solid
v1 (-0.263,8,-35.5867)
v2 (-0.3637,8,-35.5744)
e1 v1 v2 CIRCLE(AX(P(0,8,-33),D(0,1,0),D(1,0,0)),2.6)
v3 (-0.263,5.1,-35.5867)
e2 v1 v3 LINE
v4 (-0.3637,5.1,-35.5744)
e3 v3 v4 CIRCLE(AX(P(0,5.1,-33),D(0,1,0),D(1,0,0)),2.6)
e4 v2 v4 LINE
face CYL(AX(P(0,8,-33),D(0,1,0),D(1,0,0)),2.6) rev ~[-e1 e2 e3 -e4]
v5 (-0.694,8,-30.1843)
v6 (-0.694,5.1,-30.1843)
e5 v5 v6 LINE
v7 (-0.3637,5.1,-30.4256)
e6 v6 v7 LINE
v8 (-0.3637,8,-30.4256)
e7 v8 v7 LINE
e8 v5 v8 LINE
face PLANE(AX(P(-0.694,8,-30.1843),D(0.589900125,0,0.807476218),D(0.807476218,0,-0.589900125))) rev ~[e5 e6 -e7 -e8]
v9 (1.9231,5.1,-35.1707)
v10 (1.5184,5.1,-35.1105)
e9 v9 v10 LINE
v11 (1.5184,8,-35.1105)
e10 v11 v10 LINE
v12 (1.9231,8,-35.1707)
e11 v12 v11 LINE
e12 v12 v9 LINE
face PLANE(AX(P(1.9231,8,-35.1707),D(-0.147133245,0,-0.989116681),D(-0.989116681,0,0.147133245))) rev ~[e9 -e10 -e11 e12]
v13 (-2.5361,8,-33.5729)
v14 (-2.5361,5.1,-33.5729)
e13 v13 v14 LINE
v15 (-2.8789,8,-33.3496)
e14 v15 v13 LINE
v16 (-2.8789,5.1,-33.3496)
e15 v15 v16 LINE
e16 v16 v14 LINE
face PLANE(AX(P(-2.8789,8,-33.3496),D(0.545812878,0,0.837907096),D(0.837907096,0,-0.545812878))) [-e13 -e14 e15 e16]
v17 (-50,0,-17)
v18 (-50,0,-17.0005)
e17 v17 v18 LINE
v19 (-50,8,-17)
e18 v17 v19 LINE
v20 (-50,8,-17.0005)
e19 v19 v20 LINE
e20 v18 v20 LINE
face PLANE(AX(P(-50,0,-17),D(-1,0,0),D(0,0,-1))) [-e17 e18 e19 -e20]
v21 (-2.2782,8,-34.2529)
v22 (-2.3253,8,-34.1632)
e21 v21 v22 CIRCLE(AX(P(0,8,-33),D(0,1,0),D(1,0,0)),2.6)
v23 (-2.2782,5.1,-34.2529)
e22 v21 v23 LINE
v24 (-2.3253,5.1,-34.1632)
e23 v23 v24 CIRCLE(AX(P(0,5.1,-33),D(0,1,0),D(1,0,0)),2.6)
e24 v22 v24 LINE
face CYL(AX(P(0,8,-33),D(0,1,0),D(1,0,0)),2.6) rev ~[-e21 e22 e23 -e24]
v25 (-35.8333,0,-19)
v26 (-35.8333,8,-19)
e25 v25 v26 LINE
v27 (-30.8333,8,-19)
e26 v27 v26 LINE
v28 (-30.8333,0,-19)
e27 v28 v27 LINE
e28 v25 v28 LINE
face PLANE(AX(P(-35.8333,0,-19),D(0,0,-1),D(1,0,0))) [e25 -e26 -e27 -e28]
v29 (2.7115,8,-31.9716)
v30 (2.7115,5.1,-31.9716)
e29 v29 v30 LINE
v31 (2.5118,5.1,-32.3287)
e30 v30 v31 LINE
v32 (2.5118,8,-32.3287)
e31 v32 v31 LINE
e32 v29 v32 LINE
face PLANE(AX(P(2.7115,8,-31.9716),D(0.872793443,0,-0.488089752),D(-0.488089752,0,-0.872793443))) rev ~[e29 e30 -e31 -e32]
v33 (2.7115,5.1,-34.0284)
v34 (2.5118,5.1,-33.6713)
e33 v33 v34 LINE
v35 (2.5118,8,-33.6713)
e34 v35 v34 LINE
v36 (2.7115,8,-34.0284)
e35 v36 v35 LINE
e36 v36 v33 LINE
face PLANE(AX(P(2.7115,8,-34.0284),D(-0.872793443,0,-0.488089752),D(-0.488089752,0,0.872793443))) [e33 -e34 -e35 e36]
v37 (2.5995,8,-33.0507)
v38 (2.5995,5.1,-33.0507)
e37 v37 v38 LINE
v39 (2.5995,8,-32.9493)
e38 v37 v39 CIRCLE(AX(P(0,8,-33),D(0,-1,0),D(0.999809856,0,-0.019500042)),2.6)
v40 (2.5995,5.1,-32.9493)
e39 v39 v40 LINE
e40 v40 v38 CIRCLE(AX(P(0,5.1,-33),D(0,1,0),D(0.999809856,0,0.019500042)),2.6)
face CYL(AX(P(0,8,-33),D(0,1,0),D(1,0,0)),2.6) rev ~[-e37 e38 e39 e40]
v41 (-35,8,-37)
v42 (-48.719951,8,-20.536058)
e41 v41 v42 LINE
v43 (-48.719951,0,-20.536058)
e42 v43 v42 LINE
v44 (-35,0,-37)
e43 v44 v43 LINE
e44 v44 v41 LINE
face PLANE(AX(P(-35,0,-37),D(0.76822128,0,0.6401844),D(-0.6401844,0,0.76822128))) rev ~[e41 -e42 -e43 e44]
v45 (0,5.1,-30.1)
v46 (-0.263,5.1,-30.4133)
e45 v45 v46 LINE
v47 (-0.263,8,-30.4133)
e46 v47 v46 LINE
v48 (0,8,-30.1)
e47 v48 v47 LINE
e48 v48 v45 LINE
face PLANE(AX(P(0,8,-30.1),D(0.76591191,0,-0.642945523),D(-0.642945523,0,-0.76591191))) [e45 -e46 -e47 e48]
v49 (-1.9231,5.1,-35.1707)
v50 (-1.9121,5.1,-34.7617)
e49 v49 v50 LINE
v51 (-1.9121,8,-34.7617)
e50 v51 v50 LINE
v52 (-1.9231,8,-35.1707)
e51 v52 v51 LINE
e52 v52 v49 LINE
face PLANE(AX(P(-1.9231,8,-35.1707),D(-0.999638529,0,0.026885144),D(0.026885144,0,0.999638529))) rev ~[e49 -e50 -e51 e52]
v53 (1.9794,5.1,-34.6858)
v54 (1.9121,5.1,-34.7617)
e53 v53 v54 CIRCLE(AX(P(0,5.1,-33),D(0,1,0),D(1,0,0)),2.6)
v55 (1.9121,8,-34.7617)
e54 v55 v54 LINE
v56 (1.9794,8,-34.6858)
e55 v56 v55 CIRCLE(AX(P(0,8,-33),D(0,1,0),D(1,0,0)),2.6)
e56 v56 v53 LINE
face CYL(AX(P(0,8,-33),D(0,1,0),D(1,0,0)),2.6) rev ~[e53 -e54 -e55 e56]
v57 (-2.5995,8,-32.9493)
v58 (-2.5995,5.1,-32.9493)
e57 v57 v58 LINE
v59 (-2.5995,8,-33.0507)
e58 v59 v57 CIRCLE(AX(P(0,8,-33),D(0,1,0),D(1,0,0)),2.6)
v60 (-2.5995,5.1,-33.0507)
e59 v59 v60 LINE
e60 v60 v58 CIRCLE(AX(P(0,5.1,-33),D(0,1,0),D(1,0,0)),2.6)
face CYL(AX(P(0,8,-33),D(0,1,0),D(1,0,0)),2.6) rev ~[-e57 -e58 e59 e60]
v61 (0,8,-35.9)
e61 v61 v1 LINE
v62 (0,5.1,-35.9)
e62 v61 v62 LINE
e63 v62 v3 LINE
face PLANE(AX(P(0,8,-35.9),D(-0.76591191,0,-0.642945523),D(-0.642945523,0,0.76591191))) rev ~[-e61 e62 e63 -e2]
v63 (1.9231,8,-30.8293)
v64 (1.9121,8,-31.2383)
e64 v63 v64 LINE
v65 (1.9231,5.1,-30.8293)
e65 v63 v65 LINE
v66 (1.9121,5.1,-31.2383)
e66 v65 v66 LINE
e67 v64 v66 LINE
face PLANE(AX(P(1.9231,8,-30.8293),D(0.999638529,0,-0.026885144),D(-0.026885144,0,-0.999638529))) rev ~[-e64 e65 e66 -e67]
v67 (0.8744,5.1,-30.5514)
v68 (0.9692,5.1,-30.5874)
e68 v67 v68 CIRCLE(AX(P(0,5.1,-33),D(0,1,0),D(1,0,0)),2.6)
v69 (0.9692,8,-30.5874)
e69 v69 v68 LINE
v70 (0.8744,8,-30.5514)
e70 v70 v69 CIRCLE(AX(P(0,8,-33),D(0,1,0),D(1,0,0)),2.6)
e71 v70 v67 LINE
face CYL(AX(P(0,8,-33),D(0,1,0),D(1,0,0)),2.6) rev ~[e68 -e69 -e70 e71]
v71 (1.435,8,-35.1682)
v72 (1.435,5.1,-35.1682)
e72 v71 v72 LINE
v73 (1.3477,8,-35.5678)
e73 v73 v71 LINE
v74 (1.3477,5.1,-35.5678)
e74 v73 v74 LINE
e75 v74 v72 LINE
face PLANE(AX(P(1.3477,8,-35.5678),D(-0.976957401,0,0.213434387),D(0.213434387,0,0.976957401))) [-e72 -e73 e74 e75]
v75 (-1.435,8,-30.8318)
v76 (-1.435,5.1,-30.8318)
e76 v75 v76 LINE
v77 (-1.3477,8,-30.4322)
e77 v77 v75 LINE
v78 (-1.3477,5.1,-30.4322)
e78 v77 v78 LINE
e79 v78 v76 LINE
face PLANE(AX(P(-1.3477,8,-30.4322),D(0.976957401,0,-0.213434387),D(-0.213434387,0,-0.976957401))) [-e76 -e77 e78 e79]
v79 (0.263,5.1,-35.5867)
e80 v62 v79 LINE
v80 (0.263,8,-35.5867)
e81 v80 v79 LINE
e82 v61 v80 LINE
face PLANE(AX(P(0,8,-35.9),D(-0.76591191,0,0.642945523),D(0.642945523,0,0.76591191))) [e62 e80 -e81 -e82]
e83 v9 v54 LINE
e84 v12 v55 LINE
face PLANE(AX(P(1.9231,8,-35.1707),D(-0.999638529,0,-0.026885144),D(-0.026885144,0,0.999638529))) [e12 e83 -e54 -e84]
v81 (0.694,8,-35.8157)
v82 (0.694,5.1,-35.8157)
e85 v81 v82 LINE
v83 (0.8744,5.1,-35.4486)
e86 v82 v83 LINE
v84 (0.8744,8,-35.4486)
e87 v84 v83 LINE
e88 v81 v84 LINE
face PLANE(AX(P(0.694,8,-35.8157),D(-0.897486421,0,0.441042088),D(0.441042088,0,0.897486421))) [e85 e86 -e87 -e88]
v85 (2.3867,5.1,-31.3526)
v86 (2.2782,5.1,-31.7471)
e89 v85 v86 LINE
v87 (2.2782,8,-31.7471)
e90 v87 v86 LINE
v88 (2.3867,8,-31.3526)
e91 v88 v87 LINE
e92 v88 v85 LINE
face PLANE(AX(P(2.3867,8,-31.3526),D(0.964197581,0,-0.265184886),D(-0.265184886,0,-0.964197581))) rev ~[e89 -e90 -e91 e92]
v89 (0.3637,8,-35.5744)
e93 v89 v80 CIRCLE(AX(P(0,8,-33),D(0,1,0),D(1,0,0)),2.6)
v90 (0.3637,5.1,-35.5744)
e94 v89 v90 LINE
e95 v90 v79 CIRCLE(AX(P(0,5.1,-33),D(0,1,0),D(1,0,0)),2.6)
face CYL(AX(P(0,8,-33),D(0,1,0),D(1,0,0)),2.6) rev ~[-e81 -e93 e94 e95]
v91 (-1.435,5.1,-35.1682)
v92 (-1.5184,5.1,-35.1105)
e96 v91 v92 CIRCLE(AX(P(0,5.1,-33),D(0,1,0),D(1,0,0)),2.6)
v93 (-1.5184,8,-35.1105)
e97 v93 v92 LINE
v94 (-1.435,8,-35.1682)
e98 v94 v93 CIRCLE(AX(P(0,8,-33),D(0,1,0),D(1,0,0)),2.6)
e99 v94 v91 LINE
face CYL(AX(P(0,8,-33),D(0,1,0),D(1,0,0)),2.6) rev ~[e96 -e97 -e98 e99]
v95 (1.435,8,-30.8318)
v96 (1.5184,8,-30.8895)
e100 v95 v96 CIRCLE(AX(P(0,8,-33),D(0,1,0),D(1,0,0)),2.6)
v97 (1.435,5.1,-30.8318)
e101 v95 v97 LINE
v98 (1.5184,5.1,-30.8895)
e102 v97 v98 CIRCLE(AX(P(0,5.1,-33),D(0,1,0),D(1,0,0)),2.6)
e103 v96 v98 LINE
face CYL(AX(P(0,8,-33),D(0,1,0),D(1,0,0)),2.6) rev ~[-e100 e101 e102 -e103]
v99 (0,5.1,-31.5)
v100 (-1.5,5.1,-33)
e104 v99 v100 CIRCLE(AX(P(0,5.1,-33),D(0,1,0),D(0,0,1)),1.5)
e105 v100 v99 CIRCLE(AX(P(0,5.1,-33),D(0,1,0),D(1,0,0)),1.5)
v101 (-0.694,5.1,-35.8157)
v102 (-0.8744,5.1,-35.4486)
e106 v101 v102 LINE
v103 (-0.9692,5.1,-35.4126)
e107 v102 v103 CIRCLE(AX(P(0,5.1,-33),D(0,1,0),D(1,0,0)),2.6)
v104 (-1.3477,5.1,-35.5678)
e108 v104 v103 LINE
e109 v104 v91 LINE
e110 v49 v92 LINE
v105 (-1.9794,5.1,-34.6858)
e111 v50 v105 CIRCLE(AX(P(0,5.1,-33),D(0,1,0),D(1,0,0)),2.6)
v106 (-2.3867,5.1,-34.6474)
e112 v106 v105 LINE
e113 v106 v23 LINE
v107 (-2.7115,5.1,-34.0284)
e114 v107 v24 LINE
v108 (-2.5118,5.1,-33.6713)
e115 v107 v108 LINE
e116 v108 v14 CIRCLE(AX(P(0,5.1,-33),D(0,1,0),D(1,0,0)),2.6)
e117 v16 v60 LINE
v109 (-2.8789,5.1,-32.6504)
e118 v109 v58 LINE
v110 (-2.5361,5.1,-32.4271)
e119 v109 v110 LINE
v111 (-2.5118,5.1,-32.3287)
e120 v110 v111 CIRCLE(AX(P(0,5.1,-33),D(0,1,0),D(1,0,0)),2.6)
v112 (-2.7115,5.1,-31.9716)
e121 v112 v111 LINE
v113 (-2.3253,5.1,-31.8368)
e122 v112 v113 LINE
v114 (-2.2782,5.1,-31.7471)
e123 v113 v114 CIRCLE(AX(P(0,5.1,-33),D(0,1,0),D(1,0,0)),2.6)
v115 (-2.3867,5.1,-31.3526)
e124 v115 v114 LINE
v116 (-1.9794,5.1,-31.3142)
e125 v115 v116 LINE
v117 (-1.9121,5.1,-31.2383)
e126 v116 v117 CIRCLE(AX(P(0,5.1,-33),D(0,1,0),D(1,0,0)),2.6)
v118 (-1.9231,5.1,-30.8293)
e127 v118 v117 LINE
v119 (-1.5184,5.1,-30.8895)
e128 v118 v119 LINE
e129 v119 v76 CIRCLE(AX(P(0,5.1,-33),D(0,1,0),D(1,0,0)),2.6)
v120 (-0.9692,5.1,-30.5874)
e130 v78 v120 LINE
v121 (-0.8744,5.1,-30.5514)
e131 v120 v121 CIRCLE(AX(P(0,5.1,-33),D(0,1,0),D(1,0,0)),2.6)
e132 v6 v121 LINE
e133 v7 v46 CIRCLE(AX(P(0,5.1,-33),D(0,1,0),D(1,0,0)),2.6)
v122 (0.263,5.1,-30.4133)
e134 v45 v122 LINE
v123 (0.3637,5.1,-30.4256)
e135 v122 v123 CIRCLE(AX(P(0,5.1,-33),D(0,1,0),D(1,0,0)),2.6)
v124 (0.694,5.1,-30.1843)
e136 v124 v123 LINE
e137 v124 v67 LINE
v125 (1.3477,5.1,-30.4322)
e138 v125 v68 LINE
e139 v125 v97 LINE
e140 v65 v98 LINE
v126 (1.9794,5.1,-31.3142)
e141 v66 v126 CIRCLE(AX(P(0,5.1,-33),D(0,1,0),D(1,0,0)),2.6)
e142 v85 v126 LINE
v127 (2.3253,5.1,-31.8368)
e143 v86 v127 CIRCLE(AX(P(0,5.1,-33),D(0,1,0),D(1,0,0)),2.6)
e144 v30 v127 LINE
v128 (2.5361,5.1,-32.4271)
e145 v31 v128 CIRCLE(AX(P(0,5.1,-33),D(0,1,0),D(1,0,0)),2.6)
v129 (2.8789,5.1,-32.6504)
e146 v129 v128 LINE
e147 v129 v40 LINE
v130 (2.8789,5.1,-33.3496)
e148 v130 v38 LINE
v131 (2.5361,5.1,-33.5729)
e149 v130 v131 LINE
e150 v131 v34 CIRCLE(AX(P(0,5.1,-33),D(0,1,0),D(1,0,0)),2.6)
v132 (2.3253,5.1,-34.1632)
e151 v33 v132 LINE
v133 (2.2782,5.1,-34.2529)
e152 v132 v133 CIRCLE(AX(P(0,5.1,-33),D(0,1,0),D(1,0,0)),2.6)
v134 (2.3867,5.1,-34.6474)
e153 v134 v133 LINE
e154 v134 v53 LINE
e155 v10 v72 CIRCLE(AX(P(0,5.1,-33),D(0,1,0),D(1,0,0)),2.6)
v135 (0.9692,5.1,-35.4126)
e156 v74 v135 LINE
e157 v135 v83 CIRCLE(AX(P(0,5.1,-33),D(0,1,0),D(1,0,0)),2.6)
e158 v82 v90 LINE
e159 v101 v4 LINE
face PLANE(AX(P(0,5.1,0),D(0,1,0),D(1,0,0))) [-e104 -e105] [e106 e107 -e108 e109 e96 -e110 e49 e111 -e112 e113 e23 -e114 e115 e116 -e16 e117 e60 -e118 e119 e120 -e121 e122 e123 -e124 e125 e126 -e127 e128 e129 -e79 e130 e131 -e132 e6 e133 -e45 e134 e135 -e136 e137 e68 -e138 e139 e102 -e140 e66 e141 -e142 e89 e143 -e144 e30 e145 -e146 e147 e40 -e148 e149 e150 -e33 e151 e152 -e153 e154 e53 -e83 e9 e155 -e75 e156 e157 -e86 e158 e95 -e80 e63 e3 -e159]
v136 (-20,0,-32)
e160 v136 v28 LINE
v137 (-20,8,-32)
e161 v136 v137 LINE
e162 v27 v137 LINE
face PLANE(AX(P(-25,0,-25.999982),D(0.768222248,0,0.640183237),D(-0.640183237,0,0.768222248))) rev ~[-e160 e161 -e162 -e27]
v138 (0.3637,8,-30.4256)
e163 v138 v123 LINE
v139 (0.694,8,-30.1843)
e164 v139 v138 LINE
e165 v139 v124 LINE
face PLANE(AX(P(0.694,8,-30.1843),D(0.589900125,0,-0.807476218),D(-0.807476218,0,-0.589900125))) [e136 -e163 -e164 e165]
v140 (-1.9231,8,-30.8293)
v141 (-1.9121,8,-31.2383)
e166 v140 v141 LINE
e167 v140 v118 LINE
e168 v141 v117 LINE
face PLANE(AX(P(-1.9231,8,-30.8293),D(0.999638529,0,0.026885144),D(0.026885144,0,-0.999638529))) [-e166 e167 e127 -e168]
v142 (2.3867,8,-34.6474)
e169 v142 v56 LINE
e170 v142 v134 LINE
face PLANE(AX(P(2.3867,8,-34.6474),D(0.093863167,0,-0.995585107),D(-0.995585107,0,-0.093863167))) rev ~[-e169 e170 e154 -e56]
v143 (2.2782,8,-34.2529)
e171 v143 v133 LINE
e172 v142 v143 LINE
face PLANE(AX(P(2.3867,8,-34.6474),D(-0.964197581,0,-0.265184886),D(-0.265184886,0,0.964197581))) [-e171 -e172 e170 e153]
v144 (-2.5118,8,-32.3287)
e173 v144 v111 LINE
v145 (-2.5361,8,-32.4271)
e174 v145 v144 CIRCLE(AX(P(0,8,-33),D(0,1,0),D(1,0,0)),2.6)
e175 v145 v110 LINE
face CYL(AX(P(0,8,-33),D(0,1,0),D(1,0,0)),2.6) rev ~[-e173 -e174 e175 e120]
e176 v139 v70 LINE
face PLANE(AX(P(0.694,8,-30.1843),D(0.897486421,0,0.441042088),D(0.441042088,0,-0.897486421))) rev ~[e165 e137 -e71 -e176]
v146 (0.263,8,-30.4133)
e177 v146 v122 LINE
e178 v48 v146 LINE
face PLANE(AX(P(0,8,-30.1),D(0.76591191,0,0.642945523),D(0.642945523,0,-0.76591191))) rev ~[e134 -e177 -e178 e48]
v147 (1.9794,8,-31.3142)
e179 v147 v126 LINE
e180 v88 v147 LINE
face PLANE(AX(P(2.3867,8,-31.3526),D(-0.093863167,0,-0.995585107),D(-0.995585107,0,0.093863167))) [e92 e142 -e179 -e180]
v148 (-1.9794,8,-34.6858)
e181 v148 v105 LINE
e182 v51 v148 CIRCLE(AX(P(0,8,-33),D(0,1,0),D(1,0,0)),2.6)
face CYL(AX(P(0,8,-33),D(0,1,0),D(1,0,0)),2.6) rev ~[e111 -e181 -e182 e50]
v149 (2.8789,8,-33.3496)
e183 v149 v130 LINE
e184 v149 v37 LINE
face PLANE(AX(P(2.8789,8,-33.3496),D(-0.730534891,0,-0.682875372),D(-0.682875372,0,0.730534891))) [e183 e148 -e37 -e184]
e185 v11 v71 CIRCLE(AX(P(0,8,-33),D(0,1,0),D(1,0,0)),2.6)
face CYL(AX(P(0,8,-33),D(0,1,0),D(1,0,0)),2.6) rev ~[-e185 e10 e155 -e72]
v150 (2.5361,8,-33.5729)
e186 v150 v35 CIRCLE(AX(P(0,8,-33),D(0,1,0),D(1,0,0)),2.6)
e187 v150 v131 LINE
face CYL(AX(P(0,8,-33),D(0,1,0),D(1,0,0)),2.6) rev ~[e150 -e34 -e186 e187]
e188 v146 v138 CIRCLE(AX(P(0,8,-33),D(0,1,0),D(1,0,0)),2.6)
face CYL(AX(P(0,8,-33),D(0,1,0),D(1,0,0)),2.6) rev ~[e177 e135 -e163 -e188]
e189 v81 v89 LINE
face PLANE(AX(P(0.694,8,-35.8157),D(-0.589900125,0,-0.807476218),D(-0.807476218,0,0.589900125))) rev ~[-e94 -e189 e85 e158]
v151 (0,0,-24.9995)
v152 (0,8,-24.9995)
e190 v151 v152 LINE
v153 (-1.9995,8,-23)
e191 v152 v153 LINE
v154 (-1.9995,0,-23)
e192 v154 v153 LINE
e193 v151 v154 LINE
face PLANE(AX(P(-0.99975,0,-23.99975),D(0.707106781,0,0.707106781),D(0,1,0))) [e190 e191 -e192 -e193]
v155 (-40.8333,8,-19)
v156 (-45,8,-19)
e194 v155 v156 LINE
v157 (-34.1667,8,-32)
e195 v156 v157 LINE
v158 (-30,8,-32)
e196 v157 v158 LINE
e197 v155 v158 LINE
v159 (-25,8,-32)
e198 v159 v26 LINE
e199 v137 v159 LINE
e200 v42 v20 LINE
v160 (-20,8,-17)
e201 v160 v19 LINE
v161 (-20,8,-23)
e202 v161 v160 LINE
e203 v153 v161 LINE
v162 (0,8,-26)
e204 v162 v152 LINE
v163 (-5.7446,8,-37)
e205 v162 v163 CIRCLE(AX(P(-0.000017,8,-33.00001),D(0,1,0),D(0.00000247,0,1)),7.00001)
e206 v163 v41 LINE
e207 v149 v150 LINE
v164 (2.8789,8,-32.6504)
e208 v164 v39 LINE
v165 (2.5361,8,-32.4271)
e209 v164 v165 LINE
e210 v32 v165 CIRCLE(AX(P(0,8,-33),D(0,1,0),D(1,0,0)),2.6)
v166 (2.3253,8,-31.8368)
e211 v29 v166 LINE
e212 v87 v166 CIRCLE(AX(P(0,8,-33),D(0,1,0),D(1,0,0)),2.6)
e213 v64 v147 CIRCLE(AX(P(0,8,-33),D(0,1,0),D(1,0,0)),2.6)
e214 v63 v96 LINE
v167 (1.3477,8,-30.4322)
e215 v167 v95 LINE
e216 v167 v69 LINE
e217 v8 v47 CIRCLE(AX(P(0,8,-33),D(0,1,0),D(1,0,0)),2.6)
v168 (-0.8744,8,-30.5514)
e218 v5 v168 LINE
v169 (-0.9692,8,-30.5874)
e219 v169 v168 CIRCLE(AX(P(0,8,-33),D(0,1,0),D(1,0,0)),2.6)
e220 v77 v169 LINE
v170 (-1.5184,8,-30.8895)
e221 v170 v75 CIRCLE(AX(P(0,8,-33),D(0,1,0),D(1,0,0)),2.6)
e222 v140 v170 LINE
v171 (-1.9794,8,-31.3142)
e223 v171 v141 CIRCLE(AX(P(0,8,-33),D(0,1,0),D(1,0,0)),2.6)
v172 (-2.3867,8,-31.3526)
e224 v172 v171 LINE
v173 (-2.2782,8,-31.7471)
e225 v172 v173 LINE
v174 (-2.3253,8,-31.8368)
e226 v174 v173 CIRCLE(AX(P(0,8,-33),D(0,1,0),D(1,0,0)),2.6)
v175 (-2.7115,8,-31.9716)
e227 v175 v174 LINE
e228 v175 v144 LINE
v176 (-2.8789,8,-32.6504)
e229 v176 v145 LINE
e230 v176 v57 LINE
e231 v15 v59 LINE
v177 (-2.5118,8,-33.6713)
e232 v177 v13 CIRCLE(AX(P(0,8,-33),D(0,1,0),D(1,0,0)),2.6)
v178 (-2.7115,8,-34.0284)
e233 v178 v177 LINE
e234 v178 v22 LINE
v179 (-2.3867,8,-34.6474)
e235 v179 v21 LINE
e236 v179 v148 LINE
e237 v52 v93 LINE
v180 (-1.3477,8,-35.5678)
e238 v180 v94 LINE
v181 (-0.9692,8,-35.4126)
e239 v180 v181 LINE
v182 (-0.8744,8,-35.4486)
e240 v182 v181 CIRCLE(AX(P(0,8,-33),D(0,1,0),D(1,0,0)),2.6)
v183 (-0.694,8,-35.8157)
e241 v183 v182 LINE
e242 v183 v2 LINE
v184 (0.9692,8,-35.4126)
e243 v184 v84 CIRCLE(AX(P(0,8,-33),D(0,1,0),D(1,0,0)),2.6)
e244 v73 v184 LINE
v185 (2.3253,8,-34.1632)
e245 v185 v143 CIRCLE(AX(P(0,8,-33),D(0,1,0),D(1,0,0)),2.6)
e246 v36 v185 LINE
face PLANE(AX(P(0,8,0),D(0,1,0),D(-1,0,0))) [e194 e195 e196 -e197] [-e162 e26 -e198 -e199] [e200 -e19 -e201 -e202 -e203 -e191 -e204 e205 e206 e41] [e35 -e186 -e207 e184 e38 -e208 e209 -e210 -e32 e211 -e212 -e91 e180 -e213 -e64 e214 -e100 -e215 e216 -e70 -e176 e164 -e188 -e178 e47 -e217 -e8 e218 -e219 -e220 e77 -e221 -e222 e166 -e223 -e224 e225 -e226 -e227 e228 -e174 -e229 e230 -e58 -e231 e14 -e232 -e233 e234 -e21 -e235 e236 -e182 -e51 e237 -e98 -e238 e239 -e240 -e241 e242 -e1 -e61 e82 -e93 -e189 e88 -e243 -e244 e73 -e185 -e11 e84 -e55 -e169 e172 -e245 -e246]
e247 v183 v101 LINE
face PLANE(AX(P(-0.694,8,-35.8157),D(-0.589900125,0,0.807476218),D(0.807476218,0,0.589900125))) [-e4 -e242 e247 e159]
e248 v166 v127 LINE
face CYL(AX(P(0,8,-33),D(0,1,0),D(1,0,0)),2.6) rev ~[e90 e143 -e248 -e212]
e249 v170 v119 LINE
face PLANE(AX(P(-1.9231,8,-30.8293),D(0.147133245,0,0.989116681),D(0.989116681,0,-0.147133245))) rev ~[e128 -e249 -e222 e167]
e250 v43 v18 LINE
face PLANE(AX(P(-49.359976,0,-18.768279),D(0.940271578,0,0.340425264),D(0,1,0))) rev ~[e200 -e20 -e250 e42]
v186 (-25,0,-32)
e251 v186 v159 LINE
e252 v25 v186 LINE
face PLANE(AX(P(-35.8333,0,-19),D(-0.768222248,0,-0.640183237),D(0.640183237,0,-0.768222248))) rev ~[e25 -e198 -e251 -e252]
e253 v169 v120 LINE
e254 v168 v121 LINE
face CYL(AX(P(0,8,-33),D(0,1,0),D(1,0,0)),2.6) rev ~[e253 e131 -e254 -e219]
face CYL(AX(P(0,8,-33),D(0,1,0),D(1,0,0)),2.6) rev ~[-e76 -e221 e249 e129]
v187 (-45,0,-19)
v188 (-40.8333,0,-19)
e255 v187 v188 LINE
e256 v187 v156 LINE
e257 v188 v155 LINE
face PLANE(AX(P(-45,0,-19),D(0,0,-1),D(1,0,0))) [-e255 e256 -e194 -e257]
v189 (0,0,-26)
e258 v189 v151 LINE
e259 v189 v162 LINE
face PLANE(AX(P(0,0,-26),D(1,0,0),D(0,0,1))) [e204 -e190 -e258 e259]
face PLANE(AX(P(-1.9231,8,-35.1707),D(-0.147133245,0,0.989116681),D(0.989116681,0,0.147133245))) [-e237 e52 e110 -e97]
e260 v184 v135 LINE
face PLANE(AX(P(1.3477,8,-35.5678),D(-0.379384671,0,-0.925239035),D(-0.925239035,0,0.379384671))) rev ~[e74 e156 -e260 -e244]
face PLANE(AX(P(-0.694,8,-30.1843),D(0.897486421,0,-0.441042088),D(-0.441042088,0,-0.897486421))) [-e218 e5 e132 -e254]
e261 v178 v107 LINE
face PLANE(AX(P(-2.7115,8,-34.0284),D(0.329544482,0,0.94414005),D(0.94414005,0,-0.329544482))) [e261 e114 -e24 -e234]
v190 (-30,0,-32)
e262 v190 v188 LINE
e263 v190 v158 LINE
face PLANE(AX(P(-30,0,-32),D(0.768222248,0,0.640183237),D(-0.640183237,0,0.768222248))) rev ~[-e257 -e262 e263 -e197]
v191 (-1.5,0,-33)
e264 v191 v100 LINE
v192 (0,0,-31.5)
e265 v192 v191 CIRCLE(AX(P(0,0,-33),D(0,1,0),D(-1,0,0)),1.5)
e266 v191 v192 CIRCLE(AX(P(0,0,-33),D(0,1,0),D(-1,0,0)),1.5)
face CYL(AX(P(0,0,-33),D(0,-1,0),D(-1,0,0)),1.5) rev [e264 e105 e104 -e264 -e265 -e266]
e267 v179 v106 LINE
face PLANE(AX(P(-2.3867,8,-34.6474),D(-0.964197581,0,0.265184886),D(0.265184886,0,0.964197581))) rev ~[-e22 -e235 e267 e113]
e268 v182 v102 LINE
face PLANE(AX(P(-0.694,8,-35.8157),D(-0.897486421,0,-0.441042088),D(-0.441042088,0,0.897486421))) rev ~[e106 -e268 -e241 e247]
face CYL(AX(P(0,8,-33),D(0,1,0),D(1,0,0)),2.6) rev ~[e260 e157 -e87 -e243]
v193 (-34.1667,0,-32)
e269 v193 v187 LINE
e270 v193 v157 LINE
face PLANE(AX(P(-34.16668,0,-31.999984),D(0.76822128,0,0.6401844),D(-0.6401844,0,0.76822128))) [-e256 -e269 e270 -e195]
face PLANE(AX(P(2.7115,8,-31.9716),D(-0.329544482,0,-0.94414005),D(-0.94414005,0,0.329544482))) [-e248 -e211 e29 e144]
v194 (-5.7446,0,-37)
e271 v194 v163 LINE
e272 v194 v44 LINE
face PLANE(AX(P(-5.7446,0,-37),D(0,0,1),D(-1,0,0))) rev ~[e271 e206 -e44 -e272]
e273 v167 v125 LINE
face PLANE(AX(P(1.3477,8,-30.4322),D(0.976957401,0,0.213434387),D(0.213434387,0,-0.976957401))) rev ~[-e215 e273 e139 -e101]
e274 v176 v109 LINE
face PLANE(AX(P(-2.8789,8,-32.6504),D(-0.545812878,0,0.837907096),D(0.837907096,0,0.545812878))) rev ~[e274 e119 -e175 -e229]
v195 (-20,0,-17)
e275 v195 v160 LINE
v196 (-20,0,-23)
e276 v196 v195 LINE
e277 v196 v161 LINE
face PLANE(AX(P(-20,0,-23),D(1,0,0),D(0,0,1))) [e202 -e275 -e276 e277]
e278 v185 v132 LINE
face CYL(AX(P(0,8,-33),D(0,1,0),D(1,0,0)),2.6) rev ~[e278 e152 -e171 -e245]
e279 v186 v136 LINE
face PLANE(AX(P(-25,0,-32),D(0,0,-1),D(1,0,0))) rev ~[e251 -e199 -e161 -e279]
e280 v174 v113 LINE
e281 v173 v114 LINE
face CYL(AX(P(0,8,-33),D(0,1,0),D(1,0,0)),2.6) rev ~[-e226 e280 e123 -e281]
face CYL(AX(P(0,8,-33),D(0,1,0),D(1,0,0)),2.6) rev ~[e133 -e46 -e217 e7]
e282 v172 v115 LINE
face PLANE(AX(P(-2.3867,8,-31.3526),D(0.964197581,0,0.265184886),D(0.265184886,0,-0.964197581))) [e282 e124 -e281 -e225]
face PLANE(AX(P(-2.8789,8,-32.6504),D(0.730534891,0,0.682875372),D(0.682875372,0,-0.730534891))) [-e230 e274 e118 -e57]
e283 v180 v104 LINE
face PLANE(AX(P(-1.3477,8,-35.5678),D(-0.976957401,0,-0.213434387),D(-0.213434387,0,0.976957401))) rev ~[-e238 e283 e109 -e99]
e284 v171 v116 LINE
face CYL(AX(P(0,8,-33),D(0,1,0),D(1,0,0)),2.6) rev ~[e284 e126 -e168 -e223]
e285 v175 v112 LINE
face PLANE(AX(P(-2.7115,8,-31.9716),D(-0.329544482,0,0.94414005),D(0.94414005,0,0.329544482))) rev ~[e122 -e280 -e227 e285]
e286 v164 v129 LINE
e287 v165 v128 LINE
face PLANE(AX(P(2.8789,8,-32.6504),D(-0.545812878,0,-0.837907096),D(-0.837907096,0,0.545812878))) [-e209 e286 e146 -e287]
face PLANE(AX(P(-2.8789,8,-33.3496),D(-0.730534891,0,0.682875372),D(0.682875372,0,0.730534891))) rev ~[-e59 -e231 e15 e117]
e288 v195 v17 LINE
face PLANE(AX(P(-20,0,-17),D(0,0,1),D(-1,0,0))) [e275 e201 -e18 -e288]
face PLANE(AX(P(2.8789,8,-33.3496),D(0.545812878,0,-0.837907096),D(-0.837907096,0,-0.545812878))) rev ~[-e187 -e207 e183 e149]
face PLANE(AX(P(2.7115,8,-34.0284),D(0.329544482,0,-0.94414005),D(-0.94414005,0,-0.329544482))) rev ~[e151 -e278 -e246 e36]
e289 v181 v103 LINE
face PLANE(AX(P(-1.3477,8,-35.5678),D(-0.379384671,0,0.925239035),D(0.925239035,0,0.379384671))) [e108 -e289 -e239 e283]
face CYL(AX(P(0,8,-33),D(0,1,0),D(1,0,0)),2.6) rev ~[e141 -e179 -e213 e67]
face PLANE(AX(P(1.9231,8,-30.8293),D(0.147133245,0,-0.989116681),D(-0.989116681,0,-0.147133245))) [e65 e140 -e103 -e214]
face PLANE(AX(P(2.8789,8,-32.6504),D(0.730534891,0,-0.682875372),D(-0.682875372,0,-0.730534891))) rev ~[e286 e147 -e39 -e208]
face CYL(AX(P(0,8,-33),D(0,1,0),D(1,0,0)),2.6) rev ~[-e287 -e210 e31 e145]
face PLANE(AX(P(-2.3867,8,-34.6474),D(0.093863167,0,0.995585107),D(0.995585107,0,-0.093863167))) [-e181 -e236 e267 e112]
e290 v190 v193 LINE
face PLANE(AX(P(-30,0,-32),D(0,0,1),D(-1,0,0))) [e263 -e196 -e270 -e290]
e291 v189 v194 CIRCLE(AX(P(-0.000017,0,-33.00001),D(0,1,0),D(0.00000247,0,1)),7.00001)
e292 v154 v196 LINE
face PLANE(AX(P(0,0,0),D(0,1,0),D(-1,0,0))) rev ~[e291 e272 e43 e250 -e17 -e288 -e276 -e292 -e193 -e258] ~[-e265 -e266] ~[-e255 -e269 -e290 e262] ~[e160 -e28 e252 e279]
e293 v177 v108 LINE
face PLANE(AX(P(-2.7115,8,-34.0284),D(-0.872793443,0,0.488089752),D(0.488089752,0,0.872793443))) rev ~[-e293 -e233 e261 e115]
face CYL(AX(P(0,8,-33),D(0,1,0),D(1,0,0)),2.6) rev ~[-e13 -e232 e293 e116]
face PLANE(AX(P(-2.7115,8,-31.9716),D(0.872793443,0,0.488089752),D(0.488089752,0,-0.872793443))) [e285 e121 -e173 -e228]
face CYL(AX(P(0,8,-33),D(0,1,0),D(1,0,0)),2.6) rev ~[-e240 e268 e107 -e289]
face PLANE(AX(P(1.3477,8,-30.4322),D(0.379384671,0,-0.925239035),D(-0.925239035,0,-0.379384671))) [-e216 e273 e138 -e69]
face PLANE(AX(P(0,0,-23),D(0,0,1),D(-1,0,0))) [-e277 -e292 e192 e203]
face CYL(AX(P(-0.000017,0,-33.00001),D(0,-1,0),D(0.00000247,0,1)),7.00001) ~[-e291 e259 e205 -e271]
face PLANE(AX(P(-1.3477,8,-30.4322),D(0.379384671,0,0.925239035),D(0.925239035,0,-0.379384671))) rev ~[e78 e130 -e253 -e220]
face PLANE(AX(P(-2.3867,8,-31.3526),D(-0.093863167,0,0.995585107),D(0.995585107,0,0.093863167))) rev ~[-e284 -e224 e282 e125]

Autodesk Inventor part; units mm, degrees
ref_plane "YZ Plane" through (0, 0, 0) normal (1, 0, 0) x (0, 1, 0)
ref_plane "XZ Plane" through (0, 0, 0) normal (0, 1, 0) x (-1, 0, 0)
ref_plane "XY Plane" through (0, 0, 0) normal (0, 0, 1) x (1, 0, 0)
sketch "Boceto1" plane through (0, 0, 0) normal (0, 1, 0) x (-1, 0, 0)
  line L0 (50, -16) -> (50, -16.5)
  line L1 (50, -16.5) -> (49.0807, -16.5)
  circle A0 centre (0, -33) radius 1.5
  circle A1 centre (0, -33) radius 3
  arc A2 (0, -26) -> (5.7446, -37) centre (0, -33) ccw
  line L2 (5.7446, -37) -> (35, -37)
  line L3 (35, -37) -> (50, -19)
  line L4 (0, -23) -> (20, -23)
  line L5 (20, -23) -> (20, -17)
  line L6 (20, -17) -> (50, -17)
  line L7 (50, -17) -> (50, -19)
  line L8 (0, -31.5) -> (0, -30)
  line L9 (0, -26) -> (0, -23)
  point P0 (0, -37)
  dimension "d9" = 0.5
extrude "Extrusión1" add sketch "Boceto1" along normal blind 8 contours A1 | L9 L4 L5 L6 L7 L3 L2 A2
sketch "Boceto6" plane through (0, 0, 0) normal (0, -1, 0) x (1, 0, 0)
  line L0 (-50, -17) -> (-20, -17) projected
  line L1 (-50, -16) -> (-50, -14) projected
  line L2 (-50, -17) -> (-50, -16)
  line L3 (-50, -16.5) -> (-16.403, -16.5)
  line L4 (-20, -23) -> (-25, -23)
  line L5 (-5.7446, -37) -> (-35, -37) projected
  line L6 (-25, -23) -> (-25, -28)
  line L7 (-25, -37) -> (-25, -32)
  line L8 (-25, -32) -> (-5.7446, -32)
  line L9 (-5.7446, -32) -> (-5.7446, -27.061)
  line L10 (-25, -28) -> (-5.7446, -28)
  line L11 (-35, -37) -> (-30, -37)
  line L12 (-30, -37) -> (-30, -32)
  line L13 (-30, -32) -> (-25, -32)
  line L14 (-50, -19) -> (-50, -17) projected
  line L15 (-50, -19) -> (-45, -19)
  line L16 (-30, -37) -> (-45, -19)
  line L17 (-45, -19) -> (-40, -19)
  line L18 (-30, -32) -> (-40.8333, -19)
  line L19 (-40.8333, -19) -> (-25, -19)
  line L20 (-25, -19) -> (-25, -28)
  line L21 (-30, -32) -> (-34.1667, -32)
  line L22 (-40.8333, -19) -> (-35.8333, -19)
  line L23 (-35.8333, -19) -> (-25, -32)
  line L24 (-35.8333, -19) -> (-30.8333, -19)
  line L25 (-25, -32) -> (-20, -32)
  line L26 (-20, -32) -> (-30.8333, -19)
  line L27 (-30, 4) -> (-45, -14)
  line L28 (-45, -14) -> (-40, -14)
  line L29 (-30, -1) -> (-40.8333, -14)
  line L30 (-30, -1) -> (-34.1667, -1)
  line L31 (-35.8333, -14) -> (-25, -1)
  line L32 (-35.8333, -14) -> (-30.8333, -14)
  line L33 (-25, -1) -> (-20, -1)
  line L34 (-20, -1) -> (-30.8333, -14)
  point P0 (0, 0)
  dimension "d28" = 5
  dimension "d29" = 5
  dimension "d30" = 5
  dimension "d31" = 5
  dimension "d32" = 5
  dimension "d33" = 5
  dimension "d34" = 5
  dimension "d35" = 5
  dimension "d36" = 5
extrude "Extrusión6" cut sketch "Boceto6" against normal blind 10 contours L23 L19 L26 L6 L10 L8 | L21 L16 L17 L18 | L10 L6 L26 | L30 L29 L28 L27 | L31 L33 L34 L32
chamfer "Chaflán1" distance 2 angle 45 2 edges at (-50, 4, -19) (0, 4, -23)
sketch "Boceto9" plane through (0, 8, 0) normal (0, 1, 0) x (1, 0, 0)
  circle A0 centre (0, 33) radius 1.5 projected
  circle A1 centre (0, 33) radius 2.6
  line L0 (0, 33) -> (0, 30.1)
  line L1 (0, 30.4) -> (0, 30.4753)
  line L2 (0, 30.4753) -> (0.263, 30.4753)
  line L3 (0.263, 30.4753) -> (-0.263, 30.4753)
  line L4 (-0.263, 30.4753) -> (-0.263, 29.9607)
  line L5 (0.263, 30.4753) -> (0.263, 30.0075)
  line L6 (0, 30.4) -> (0, 30.1)
  line L7 (0, 30.1) -> (0.263, 30.4133)
  line L8 (0, 30.1) -> (-0.263, 30.4133)
  line L9 (0.694, 30.1843) -> (0.8744, 30.5514)
  line L10 (0.694, 30.1843) -> (0.3637, 30.4256)
  line L11 (1.3477, 30.4322) -> (1.435, 30.8318)
  line L12 (1.3477, 30.4322) -> (0.9692, 30.5874)
  line L13 (1.9231, 30.8293) -> (1.9121, 31.2383)
  line L14 (1.9231, 30.8293) -> (1.5184, 30.8895)
  line L15 (2.3867, 31.3526) -> (2.2782, 31.7471)
  line L16 (2.3867, 31.3526) -> (1.9794, 31.3142)
  line L17 (2.7115, 31.9716) -> (2.5118, 32.3287)
  line L18 (2.7115, 31.9716) -> (2.3253, 31.8368)
  line L19 (2.8789, 32.6504) -> (2.5995, 32.9493)
  line L20 (2.8789, 32.6504) -> (2.5361, 32.4271)
  line L21 (2.8789, 33.3496) -> (2.5361, 33.5729)
  line L22 (2.8789, 33.3496) -> (2.5995, 33.0507)
  line L23 (2.7115, 34.0284) -> (2.3253, 34.1632)
  line L24 (2.7115, 34.0284) -> (2.5118, 33.6713)
  line L25 (2.3867, 34.6474) -> (1.9794, 34.6858)
  line L26 (2.3867, 34.6474) -> (2.2782, 34.2529)
  line L27 (1.9231, 35.1707) -> (1.5184, 35.1105)
  line L28 (1.9231, 35.1707) -> (1.9121, 34.7617)
  line L29 (1.3477, 35.5678) -> (0.9692, 35.4126)
  line L30 (1.3477, 35.5678) -> (1.435, 35.1682)
  line L31 (0.694, 35.8157) -> (0.3637, 35.5744)
  line L32 (0.694, 35.8157) -> (0.8744, 35.4486)
  line L33 (0, 35.9) -> (-0.263, 35.5867)
  line L34 (0, 35.9) -> (0.263, 35.5867)
  line L35 (-0.694, 35.8157) -> (-0.8744, 35.4486)
  line L36 (-0.694, 35.8157) -> (-0.3637, 35.5744)
  line L37 (-1.3477, 35.5678) -> (-1.435, 35.1682)
  line L38 (-1.3477, 35.5678) -> (-0.9692, 35.4126)
  line L39 (-1.9231, 35.1707) -> (-1.9121, 34.7617)
  line L40 (-1.9231, 35.1707) -> (-1.5184, 35.1105)
  line L41 (-2.3867, 34.6474) -> (-2.2782, 34.2529)
  line L42 (-2.3867, 34.6474) -> (-1.9794, 34.6858)
  line L43 (-2.7115, 34.0284) -> (-2.5118, 33.6713)
  line L44 (-2.7115, 34.0284) -> (-2.3253, 34.1632)
  line L45 (-2.8789, 33.3496) -> (-2.5995, 33.0507)
  line L46 (-2.8789, 33.3496) -> (-2.5361, 33.5729)
  line L47 (-2.8789, 32.6504) -> (-2.5361, 32.4271)
  line L48 (-2.8789, 32.6504) -> (-2.5995, 32.9493)
  line L49 (-2.7115, 31.9716) -> (-2.3253, 31.8368)
  line L50 (-2.7115, 31.9716) -> (-2.5118, 32.3287)
  line L51 (-2.3867, 31.3526) -> (-1.9794, 31.3142)
  line L52 (-2.3867, 31.3526) -> (-2.2782, 31.7471)
  line L53 (-1.9231, 30.8293) -> (-1.5184, 30.8895)
  line L54 (-1.9231, 30.8293) -> (-1.9121, 31.2383)
  line L55 (-1.3477, 30.4322) -> (-0.9692, 30.5874)
  line L56 (-1.3477, 30.4322) -> (-1.435, 30.8318)
  line L57 (-0.694, 30.1843) -> (-0.3637, 30.4256)
  line L58 (-0.694, 30.1843) -> (-0.8744, 30.5514)
  point P0 (0, 0)
  dimension "d47" = 5.2
  dimension "d48" = 2.9
  dimension "d49" = 0.263
  dimension "d50" = 0.526
  dimension "d51" = 0.3
  dimension "d54" = 360
extrude "Extrusión9" cut sketch "Boceto9" against normal blind 2.9
properties part number "pinza  individuial sg996r con rosca"
